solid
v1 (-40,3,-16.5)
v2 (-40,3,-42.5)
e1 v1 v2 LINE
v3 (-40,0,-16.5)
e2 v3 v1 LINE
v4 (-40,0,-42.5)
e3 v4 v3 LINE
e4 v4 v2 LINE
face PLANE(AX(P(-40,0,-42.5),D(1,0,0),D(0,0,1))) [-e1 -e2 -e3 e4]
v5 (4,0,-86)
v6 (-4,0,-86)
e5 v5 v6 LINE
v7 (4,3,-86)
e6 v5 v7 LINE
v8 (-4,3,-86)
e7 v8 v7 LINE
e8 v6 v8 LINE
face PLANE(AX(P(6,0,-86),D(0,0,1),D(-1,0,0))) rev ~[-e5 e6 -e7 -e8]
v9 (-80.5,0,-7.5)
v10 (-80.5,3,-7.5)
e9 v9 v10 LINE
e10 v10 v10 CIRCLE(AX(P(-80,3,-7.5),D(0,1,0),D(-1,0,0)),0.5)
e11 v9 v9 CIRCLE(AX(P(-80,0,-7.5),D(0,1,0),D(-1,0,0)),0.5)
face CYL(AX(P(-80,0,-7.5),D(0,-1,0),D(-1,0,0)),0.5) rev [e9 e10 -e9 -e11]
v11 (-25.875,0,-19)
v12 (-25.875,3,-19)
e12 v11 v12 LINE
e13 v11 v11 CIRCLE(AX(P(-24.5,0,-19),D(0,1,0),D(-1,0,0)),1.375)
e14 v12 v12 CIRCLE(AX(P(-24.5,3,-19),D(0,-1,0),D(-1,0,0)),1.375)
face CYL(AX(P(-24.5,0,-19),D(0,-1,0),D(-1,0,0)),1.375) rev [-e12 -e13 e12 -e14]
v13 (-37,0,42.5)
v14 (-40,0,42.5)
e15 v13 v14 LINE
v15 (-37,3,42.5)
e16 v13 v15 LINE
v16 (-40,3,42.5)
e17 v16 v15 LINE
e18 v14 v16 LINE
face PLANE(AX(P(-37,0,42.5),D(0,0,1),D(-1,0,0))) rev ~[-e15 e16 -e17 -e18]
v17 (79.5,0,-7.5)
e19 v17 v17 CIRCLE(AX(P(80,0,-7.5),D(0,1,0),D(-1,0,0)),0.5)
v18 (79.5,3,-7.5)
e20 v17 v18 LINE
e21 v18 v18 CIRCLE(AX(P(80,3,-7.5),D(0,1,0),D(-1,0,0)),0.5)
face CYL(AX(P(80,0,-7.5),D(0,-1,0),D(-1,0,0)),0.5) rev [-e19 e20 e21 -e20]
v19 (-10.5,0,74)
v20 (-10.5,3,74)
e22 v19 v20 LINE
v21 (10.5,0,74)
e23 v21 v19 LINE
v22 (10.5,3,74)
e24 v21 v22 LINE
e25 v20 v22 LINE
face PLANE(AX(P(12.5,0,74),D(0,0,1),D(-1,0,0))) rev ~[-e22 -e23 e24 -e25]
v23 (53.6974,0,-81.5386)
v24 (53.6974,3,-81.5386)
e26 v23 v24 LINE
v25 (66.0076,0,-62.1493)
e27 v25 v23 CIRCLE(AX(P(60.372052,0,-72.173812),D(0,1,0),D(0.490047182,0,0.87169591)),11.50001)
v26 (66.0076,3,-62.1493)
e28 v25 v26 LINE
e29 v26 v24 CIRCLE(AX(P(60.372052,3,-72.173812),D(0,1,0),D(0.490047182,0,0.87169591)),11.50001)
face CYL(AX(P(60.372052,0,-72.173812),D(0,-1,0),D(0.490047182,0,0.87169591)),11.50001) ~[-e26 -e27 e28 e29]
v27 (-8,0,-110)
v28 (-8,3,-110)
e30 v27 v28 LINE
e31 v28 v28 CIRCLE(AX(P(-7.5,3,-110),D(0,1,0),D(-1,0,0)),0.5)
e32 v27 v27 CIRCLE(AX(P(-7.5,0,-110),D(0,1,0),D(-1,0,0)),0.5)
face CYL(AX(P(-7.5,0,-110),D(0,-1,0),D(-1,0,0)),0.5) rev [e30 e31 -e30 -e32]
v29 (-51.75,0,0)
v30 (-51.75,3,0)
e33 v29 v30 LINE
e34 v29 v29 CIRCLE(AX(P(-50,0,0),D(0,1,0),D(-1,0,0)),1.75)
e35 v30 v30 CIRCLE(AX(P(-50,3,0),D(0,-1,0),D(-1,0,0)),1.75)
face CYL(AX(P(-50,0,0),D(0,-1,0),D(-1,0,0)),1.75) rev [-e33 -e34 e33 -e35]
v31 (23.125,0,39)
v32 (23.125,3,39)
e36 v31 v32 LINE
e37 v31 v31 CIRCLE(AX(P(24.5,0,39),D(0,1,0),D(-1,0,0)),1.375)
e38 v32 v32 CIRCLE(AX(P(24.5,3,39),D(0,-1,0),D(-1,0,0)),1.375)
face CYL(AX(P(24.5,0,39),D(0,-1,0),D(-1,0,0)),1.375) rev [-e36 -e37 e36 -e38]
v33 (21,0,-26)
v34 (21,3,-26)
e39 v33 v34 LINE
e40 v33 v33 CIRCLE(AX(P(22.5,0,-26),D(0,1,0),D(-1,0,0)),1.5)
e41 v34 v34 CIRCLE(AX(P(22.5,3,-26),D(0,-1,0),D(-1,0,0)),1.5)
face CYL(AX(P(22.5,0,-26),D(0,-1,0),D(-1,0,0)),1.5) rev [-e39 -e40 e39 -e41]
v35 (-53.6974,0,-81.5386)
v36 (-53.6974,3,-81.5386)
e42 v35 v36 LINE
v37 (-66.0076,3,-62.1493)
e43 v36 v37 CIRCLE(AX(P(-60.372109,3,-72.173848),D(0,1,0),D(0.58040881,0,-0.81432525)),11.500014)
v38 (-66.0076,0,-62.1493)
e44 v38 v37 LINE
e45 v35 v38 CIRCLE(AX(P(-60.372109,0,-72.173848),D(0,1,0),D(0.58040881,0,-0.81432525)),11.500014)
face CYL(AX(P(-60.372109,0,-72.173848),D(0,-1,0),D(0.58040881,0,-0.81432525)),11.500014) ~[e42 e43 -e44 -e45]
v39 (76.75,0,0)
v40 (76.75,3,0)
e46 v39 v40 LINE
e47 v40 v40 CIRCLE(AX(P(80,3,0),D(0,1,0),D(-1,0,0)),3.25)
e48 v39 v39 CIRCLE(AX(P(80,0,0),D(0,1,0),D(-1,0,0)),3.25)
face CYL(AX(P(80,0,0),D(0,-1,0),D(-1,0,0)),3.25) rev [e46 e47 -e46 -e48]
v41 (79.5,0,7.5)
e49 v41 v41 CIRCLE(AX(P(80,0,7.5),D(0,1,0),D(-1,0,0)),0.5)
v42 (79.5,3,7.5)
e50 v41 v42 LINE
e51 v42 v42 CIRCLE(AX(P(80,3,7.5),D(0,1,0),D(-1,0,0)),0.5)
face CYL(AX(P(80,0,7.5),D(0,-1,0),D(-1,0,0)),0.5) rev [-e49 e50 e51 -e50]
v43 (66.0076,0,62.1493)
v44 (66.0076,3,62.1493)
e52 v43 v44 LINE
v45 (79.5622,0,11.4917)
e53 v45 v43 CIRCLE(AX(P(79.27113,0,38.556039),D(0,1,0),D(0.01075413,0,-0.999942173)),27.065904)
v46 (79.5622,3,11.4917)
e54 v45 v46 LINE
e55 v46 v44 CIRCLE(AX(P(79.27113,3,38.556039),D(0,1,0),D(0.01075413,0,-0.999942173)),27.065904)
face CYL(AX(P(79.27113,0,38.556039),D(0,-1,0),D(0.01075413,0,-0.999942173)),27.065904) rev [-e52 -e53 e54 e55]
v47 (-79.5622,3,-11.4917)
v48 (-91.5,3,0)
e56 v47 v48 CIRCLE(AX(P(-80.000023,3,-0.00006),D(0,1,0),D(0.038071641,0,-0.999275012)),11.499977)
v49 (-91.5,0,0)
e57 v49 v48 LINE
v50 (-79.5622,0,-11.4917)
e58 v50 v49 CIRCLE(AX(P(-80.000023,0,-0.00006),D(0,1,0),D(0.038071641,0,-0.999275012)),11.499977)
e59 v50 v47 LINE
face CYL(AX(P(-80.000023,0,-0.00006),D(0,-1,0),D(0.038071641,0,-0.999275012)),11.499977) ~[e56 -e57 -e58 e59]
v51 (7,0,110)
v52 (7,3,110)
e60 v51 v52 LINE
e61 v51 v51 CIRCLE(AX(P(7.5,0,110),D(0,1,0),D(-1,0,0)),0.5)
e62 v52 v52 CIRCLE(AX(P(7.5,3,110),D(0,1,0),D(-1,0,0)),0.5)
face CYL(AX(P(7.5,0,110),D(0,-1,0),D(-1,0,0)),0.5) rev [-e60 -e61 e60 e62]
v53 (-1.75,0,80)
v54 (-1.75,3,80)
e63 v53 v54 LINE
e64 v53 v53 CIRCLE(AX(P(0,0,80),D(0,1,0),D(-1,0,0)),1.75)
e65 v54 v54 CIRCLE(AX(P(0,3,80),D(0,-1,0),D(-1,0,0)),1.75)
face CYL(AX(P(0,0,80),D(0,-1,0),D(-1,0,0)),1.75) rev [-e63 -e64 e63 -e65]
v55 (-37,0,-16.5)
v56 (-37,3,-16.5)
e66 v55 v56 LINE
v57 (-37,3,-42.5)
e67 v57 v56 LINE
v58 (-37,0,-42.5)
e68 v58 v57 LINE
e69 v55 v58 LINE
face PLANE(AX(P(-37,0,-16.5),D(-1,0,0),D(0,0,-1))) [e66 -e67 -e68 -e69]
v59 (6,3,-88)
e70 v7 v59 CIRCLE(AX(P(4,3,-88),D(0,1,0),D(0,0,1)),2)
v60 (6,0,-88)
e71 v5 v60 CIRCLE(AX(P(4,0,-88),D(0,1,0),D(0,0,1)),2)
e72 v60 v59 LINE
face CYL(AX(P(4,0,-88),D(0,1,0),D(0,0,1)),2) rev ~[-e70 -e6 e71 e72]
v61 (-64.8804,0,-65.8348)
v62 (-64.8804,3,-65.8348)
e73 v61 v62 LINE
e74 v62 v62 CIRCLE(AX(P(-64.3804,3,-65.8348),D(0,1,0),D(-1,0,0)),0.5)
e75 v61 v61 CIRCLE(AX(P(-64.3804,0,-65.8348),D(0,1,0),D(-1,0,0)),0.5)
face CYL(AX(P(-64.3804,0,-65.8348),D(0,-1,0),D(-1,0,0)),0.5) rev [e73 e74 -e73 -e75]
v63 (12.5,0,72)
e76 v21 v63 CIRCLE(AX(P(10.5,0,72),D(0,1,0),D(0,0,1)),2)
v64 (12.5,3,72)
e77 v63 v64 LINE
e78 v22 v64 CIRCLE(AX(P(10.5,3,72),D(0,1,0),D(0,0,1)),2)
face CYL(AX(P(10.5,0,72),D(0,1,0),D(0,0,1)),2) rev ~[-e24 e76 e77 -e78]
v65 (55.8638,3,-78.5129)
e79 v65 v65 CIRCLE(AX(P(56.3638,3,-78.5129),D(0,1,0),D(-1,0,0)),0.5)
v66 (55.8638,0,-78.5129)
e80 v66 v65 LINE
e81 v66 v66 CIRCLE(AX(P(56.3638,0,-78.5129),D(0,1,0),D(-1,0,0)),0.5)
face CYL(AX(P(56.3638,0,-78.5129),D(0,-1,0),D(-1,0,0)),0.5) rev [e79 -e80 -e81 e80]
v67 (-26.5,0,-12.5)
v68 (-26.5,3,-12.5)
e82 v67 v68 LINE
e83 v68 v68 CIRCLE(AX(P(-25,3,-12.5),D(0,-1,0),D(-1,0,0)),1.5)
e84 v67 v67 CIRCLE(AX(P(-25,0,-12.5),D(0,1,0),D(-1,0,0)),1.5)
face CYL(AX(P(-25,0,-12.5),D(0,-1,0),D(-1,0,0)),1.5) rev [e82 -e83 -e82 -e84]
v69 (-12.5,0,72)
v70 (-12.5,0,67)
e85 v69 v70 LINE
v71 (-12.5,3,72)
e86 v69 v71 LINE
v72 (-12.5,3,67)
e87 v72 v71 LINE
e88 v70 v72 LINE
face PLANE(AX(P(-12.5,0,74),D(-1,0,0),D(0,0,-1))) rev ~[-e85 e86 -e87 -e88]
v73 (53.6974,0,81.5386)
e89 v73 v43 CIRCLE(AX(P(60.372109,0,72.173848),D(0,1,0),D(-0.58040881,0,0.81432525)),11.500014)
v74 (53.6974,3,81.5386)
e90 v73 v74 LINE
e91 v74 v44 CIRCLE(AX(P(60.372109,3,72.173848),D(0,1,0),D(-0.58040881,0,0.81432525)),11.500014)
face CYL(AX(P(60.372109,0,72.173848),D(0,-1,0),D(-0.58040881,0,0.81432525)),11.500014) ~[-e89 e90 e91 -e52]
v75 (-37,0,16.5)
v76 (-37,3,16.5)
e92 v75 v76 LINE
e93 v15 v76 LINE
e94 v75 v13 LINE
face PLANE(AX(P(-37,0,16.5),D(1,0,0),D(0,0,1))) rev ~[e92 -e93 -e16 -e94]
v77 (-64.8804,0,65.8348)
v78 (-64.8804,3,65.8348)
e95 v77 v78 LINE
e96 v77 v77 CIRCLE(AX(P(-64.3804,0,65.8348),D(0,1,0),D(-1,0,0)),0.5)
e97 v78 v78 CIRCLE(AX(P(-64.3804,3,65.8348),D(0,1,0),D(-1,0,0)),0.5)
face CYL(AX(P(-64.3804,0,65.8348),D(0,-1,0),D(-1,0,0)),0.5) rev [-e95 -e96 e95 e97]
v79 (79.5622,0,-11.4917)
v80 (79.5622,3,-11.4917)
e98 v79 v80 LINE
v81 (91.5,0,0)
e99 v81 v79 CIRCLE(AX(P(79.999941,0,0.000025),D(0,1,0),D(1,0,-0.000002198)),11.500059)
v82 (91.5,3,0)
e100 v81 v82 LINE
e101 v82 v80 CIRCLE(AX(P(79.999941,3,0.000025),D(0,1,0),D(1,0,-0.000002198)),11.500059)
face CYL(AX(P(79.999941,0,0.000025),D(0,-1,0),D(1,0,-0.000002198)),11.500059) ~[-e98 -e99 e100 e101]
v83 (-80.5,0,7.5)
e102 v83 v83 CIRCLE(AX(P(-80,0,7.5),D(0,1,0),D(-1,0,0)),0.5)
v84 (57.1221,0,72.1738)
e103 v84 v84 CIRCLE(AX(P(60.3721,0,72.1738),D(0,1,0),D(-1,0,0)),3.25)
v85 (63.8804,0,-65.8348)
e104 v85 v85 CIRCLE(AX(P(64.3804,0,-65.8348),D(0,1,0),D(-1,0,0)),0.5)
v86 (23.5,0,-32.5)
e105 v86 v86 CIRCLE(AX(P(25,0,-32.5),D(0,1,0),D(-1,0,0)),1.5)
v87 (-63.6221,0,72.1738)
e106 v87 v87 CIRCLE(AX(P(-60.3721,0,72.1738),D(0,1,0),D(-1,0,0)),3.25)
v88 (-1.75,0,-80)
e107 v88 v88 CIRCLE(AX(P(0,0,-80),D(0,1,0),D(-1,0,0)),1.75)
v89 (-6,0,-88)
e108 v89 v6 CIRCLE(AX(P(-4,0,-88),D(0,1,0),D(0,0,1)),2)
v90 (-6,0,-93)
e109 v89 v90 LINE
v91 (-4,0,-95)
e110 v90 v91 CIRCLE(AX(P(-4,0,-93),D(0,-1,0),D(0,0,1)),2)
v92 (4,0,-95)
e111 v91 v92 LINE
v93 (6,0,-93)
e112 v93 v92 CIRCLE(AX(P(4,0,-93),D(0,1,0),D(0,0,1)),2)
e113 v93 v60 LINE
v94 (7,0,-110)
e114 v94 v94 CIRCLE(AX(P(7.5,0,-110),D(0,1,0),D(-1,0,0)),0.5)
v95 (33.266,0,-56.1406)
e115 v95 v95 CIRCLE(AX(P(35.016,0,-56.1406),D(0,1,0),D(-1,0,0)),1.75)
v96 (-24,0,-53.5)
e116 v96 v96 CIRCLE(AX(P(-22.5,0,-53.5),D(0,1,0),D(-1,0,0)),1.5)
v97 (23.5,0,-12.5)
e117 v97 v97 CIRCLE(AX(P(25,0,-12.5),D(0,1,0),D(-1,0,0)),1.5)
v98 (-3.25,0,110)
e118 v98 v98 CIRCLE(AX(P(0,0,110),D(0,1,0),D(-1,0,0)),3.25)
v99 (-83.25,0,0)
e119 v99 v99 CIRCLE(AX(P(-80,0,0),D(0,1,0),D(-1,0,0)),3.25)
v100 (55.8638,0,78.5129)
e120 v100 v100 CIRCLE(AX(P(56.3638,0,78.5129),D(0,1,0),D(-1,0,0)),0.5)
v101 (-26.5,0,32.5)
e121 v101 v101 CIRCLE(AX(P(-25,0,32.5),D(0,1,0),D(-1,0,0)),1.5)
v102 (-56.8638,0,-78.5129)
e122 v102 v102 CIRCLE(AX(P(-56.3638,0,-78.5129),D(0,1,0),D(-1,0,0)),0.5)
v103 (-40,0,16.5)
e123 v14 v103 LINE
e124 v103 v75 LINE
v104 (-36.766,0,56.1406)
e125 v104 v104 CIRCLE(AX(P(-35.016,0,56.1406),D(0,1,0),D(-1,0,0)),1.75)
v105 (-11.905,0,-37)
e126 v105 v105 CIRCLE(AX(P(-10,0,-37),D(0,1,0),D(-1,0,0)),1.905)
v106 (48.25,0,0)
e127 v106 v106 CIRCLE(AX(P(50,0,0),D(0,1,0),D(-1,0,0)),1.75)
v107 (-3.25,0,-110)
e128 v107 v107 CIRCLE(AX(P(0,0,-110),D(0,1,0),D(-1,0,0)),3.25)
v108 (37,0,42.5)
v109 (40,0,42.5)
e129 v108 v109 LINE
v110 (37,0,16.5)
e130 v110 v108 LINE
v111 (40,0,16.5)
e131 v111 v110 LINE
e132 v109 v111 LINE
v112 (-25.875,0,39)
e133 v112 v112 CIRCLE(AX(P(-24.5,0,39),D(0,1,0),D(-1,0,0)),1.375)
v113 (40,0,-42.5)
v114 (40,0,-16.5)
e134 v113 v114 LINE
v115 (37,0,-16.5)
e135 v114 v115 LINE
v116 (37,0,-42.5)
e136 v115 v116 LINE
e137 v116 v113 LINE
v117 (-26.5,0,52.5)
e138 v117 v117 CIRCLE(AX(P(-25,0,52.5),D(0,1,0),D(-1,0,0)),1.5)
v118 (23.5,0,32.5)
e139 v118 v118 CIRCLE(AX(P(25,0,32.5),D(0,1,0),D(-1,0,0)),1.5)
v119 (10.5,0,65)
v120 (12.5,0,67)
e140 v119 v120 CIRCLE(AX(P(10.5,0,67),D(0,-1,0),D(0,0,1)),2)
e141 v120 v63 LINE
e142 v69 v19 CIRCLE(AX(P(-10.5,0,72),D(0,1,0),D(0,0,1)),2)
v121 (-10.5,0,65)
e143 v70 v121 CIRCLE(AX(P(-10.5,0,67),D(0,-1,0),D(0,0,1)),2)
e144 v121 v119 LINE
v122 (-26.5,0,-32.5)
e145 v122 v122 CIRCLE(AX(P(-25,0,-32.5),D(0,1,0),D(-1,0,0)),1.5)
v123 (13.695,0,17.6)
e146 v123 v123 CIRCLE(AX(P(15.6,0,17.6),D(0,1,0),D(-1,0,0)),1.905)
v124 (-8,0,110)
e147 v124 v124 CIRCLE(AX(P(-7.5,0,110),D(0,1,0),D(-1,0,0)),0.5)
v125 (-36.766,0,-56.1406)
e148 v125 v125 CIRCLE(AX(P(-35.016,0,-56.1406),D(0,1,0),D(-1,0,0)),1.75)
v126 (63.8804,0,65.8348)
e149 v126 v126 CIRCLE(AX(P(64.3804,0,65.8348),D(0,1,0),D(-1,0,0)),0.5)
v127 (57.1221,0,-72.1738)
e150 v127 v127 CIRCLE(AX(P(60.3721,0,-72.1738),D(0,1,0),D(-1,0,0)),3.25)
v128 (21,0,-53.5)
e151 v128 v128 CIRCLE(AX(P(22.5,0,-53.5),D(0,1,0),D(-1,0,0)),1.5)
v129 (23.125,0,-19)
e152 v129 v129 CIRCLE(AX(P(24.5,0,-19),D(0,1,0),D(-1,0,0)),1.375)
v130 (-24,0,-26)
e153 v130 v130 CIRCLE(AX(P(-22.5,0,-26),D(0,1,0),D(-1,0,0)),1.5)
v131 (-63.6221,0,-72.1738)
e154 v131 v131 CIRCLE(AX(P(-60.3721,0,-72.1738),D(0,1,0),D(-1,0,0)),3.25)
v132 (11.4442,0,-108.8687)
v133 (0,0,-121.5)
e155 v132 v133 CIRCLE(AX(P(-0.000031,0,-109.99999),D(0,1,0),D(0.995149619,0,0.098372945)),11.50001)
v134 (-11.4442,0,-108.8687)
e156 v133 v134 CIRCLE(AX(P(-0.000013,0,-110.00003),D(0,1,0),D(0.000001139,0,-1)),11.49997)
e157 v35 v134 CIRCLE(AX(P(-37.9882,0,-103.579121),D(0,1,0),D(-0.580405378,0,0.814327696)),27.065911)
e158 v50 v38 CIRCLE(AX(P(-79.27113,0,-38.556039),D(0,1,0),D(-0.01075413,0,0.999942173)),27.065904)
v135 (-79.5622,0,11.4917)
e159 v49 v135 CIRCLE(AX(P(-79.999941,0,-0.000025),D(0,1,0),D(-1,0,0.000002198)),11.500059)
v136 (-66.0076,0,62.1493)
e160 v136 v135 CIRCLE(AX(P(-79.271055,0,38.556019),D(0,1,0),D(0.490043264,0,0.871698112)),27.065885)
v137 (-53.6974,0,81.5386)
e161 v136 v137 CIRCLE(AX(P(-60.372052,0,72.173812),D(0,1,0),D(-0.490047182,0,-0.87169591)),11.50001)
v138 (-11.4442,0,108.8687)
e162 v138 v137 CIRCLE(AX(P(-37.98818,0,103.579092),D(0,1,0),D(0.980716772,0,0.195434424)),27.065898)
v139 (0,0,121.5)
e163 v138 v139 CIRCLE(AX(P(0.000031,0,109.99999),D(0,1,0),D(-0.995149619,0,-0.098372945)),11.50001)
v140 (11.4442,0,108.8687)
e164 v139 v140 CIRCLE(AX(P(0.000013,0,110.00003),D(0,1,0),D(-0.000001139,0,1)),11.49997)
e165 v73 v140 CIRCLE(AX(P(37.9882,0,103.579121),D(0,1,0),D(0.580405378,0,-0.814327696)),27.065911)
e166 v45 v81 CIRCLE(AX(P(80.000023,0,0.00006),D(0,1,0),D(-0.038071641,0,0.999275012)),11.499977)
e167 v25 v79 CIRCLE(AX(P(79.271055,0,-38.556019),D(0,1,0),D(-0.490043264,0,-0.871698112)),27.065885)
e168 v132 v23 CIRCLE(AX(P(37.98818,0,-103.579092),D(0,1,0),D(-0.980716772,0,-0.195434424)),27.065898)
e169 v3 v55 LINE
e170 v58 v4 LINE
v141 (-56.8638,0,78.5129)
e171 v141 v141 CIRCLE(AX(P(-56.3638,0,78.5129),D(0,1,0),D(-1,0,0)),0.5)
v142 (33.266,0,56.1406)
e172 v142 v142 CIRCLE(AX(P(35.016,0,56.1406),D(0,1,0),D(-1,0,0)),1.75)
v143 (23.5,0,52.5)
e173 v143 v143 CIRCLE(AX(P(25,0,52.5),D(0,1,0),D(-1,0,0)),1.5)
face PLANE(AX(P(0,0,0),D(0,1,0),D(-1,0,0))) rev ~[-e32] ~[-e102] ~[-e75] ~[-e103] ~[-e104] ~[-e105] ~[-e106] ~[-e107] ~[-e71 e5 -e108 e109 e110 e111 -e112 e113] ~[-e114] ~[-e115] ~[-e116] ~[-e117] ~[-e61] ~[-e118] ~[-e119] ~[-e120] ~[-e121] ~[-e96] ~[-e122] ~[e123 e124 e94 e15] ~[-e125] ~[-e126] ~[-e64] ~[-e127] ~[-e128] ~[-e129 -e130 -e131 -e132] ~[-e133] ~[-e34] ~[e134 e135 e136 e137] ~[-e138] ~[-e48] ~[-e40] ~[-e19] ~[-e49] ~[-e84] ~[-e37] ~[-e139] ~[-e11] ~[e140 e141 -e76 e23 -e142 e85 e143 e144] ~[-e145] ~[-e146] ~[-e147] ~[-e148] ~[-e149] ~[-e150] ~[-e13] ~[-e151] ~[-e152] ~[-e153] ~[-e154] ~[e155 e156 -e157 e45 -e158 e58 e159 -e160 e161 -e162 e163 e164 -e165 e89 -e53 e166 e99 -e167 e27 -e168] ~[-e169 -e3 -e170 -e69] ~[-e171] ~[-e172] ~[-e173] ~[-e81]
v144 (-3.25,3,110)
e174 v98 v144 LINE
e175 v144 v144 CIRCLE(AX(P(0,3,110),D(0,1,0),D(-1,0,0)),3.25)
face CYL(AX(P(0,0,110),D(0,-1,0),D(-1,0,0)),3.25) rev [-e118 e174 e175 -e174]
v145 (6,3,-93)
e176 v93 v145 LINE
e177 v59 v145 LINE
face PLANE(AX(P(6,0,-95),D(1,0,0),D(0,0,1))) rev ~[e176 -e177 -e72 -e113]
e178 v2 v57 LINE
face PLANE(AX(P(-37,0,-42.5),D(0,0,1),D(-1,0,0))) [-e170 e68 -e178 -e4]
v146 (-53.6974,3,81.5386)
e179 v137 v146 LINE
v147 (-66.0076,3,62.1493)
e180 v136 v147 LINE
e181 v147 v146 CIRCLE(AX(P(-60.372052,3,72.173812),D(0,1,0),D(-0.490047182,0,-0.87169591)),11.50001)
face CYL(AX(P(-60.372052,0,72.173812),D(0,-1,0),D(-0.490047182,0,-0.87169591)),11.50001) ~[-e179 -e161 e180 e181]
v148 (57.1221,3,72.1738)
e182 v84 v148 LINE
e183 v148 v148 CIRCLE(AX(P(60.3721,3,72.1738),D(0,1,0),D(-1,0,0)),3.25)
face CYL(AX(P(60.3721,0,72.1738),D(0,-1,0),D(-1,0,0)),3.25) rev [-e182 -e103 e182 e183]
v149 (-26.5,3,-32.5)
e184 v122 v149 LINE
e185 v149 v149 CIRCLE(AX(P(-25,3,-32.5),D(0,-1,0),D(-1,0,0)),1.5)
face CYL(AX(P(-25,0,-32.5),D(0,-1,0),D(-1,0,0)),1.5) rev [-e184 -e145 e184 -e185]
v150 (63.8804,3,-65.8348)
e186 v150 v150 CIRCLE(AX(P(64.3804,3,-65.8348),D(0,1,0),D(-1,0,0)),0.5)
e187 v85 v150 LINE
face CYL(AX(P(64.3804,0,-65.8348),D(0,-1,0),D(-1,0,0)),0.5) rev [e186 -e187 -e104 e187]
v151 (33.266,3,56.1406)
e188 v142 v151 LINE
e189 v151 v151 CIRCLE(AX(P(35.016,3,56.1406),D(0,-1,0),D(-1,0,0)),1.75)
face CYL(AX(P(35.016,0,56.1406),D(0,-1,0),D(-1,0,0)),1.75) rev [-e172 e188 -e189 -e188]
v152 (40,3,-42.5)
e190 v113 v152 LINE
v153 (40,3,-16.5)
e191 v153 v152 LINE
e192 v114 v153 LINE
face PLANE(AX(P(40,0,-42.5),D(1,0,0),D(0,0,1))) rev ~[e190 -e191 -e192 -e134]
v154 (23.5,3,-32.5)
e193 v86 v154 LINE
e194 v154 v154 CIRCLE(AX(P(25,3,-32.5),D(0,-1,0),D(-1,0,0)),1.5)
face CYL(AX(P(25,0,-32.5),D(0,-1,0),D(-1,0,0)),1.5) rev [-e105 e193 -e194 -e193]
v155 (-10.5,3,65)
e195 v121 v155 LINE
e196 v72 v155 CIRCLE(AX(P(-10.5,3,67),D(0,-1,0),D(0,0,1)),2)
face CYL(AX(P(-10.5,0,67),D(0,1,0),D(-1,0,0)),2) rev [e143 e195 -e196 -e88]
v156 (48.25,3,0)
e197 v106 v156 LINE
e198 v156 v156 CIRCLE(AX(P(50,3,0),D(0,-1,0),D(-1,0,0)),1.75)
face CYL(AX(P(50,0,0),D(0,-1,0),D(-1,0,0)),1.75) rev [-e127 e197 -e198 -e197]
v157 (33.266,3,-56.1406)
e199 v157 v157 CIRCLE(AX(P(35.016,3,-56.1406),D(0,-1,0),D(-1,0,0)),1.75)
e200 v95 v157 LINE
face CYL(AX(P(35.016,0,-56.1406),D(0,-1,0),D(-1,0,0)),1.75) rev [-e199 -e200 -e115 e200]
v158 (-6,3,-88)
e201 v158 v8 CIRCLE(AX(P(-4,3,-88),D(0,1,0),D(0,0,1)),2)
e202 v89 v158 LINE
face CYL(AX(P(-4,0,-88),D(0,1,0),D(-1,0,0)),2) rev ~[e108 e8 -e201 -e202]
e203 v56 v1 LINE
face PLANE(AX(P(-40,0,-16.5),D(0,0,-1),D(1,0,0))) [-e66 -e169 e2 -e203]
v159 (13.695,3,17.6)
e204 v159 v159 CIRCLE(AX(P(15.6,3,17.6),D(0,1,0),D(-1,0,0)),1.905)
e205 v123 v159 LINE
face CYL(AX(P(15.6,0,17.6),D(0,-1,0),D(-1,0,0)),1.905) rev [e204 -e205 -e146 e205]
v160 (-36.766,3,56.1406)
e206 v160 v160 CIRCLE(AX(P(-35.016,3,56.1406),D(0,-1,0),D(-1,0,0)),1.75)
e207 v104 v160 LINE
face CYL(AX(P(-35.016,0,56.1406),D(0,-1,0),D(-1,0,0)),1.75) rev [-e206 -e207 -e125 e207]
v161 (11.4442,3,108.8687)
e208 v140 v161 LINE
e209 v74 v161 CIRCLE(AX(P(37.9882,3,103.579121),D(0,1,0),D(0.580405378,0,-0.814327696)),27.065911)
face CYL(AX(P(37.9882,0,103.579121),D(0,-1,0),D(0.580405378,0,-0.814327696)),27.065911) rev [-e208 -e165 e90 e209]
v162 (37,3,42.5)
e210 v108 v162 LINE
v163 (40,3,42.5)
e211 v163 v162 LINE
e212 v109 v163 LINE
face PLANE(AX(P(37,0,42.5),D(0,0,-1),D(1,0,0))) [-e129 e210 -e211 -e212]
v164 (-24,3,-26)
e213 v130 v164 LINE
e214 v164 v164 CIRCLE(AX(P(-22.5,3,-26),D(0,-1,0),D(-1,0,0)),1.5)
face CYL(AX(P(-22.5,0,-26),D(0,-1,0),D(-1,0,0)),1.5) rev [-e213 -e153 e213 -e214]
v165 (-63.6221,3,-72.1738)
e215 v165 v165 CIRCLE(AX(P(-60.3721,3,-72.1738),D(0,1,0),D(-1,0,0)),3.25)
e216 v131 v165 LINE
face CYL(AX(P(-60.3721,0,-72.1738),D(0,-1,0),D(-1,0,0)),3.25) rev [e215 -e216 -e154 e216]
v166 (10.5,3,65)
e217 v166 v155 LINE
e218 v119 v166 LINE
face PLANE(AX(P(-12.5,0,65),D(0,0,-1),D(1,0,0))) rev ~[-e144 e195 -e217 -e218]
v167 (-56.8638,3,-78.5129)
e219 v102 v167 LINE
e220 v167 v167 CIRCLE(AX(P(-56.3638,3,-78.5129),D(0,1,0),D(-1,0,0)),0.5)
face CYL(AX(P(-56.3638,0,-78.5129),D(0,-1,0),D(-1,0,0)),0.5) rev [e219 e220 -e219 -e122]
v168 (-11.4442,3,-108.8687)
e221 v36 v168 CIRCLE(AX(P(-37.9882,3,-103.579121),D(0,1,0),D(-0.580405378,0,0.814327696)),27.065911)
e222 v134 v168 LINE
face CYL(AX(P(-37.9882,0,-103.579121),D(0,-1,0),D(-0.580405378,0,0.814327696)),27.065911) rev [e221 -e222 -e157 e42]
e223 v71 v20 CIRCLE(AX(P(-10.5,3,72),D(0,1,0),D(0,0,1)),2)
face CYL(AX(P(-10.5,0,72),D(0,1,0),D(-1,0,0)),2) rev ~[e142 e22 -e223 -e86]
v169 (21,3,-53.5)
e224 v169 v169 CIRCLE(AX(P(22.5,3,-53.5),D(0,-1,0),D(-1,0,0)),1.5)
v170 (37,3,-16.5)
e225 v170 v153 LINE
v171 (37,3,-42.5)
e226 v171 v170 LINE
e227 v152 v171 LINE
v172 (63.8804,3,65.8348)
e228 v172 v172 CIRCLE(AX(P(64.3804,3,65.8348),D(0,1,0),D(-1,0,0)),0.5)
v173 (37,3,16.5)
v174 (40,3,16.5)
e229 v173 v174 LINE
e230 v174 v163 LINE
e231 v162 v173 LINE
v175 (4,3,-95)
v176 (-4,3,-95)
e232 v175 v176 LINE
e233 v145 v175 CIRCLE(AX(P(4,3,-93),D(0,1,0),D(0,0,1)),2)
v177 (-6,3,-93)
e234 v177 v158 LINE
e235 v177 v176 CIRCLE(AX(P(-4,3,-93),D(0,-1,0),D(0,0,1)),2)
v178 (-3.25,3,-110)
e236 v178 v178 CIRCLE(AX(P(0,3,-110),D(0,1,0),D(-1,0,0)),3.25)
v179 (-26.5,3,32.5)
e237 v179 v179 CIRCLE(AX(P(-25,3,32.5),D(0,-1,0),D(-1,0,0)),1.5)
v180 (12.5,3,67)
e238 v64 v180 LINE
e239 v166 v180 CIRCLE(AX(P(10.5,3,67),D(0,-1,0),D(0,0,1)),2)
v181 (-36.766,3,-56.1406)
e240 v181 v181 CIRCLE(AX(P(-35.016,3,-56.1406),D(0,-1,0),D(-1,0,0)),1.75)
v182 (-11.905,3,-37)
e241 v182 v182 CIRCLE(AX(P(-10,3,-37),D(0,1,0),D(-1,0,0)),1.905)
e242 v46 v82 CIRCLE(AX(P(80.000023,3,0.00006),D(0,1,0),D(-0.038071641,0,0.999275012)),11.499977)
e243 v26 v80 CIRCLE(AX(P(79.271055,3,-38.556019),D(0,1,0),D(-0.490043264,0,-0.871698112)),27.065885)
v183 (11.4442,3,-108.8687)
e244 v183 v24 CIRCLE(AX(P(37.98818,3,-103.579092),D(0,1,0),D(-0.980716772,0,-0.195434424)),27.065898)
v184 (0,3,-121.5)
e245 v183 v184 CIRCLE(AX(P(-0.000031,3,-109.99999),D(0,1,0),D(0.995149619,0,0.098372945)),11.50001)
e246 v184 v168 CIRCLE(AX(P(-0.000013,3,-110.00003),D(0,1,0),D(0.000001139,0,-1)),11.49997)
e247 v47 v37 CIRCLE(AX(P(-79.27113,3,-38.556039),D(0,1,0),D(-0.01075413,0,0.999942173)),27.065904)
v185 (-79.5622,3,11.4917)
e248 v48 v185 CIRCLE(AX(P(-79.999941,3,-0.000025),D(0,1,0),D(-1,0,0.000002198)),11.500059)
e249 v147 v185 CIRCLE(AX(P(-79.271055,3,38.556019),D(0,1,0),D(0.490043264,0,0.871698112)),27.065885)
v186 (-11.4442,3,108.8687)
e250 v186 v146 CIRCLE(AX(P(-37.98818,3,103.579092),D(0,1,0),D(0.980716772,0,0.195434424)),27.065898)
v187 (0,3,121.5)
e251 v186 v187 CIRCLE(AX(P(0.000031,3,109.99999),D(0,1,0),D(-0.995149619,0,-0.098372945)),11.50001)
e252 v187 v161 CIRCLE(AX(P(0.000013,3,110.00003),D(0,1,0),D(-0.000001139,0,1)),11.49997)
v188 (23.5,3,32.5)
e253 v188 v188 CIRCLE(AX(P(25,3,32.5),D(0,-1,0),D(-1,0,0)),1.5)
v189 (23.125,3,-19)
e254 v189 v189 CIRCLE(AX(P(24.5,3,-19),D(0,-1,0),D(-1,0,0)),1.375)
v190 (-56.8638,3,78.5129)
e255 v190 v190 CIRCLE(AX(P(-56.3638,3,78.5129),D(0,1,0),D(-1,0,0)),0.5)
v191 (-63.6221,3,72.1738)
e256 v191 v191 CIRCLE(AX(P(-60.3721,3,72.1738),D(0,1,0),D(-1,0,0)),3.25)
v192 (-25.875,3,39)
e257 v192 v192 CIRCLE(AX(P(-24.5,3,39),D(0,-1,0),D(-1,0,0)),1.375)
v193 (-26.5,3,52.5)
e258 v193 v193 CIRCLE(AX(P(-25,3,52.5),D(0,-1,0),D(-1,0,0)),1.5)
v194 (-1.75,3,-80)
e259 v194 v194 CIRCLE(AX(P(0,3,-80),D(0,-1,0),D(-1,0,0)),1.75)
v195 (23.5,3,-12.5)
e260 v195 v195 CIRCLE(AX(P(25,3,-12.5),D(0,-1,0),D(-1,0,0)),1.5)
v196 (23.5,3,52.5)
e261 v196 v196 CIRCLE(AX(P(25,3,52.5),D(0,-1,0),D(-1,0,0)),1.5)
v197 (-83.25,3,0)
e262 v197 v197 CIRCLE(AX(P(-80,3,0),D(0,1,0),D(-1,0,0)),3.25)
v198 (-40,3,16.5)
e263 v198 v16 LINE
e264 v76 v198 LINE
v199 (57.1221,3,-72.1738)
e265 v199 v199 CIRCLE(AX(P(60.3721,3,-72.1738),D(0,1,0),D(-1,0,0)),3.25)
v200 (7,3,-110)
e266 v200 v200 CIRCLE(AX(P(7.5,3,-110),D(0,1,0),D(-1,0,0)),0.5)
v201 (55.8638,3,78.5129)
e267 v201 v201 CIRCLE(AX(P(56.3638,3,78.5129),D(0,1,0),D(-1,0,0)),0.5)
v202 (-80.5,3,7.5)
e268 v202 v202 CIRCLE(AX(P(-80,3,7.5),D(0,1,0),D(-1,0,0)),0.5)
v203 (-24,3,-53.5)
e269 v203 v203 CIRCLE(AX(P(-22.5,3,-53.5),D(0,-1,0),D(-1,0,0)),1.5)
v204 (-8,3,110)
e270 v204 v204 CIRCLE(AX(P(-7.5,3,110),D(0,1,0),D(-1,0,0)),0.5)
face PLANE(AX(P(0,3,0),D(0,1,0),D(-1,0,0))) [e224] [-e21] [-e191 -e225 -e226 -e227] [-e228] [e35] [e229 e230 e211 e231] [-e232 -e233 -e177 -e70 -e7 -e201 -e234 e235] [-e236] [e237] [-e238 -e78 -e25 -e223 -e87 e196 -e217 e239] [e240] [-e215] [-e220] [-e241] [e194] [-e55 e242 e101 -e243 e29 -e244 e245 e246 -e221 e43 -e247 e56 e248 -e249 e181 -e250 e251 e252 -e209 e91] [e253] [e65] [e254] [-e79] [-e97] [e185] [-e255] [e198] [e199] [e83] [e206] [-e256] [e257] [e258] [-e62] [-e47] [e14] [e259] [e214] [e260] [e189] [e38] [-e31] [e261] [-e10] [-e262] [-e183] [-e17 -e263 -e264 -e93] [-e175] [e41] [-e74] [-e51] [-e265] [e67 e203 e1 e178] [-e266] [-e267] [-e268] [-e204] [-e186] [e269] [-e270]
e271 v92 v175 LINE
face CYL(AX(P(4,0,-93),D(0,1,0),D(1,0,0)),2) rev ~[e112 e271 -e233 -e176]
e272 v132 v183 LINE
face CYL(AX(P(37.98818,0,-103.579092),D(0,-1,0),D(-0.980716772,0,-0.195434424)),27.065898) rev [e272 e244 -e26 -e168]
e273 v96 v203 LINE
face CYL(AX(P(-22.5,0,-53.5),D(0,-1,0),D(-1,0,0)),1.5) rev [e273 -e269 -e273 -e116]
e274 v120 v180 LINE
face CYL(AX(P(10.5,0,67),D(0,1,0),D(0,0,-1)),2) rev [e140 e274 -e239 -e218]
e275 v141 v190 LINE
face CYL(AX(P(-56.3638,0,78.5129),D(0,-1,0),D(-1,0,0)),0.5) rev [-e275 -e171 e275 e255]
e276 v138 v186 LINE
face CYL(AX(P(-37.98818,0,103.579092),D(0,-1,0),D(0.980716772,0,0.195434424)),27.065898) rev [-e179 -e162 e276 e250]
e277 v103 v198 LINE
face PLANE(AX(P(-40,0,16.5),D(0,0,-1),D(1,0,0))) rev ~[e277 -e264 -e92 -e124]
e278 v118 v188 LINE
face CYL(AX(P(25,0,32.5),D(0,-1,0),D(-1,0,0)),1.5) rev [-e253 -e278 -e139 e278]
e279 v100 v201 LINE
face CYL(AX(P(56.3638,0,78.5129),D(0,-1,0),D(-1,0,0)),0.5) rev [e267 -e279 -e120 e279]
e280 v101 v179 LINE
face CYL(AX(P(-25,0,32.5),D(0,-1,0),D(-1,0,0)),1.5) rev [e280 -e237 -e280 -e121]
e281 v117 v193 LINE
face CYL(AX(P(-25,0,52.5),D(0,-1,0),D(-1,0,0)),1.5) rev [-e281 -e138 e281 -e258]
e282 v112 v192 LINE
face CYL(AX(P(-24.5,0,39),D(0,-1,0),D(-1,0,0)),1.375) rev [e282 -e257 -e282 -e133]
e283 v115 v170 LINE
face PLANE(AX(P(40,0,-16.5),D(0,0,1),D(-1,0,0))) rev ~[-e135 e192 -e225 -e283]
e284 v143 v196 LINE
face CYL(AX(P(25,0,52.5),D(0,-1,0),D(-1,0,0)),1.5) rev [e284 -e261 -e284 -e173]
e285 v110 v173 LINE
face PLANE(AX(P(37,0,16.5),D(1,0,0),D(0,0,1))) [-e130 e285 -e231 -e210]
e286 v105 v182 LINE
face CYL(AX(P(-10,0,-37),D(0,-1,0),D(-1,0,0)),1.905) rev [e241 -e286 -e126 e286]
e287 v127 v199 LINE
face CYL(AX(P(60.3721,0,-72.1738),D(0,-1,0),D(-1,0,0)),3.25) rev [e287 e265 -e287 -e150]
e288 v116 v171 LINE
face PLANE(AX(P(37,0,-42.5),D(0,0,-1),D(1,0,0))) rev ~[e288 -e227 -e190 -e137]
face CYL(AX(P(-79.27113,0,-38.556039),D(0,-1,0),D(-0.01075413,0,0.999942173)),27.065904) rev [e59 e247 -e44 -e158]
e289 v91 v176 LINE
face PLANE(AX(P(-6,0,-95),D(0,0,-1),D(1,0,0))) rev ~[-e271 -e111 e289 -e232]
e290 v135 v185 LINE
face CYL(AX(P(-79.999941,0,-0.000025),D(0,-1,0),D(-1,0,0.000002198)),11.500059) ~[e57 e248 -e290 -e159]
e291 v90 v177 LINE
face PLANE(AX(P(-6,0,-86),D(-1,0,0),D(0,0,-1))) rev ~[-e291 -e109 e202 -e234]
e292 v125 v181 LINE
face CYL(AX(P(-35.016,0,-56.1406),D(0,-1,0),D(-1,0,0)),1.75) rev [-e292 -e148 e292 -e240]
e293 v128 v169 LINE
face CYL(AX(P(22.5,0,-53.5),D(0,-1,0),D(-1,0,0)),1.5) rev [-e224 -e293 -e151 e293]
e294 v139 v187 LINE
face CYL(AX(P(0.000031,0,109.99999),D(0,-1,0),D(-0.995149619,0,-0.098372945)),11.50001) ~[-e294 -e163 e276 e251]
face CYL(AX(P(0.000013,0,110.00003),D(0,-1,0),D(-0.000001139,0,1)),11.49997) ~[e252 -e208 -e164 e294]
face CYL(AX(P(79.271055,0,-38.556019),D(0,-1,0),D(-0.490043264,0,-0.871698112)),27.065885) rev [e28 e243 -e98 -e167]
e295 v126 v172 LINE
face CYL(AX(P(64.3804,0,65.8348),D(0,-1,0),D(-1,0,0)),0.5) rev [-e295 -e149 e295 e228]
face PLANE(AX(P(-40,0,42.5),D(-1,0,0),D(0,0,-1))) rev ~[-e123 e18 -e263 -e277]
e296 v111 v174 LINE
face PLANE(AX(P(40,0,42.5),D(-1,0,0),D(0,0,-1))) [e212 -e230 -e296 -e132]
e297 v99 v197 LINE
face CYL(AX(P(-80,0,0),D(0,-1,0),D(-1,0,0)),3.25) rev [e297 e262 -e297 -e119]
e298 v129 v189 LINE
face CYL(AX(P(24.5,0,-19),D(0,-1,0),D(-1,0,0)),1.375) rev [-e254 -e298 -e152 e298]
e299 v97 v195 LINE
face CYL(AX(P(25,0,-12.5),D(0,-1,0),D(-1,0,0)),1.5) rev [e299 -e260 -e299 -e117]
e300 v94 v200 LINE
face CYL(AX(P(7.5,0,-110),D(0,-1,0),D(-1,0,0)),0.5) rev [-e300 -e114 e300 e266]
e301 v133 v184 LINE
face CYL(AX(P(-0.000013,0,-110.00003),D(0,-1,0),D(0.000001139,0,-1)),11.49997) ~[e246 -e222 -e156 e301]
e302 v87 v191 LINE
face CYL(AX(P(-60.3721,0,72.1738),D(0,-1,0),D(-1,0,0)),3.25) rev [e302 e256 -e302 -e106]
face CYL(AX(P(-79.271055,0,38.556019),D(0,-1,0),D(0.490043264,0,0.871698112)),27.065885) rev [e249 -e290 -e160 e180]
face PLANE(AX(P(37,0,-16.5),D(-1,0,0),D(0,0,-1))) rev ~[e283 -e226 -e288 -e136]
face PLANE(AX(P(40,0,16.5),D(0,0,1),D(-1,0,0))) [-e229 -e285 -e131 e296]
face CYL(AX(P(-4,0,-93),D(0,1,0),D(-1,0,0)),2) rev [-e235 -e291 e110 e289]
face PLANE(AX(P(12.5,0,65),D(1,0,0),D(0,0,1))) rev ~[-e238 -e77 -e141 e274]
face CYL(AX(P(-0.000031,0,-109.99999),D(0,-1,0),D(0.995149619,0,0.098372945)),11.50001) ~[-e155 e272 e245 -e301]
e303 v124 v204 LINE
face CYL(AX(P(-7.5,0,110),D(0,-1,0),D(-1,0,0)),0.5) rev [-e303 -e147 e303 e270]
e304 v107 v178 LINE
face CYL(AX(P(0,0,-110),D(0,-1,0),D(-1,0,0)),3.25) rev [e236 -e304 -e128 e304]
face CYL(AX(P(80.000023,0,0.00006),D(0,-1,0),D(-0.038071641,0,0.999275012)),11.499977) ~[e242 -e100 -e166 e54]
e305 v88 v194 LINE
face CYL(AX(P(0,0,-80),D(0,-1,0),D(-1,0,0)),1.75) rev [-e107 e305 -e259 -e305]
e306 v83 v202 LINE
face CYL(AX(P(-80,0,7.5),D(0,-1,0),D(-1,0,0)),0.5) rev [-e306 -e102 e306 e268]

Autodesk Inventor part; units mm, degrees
ref_plane "YZ Plane" through (0, 0, 0) normal (1, 0, 0) x (0, 1, 0)
ref_plane "XZ Plane" through (0, 0, 0) normal (0, 1, 0) x (-1, 0, 0)
ref_plane "XY Plane" through (0, 0, 0) normal (0, 0, 1) x (1, 0, 0)
sketch "Sketch1" plane through (0, 0, 0) normal (0, 1, 0) x (-1, 0, 0)
  line L0 (0, -135) -> (0, 190) construction
  line L1 (111, 0) -> (-155, 0) construction
  ellipse E0 centre (0, 0) end of major axis (0, 110) minor radius 80 construction
  arc A0 (79.5622, -11.4917) -> (91.5, 0) centre (80, 0) ccw
  arc A1 (0, -121.5) -> (11.4442, -108.8687) centre (0, -110) ccw
  arc A2 (53.6974, -81.5386) -> (66.0076, -62.1493) centre (60.3721, -72.1738) ccw
  arc A3 (79.5622, -11.4917) -> (66.0076, -62.1493) centre (79.2711, -38.556) ccw
  arc A4 (53.6974, -81.5386) -> (11.4442, -108.8687) centre (37.9882, -103.5791) ccw
  arc A5 (-91.5, 0) -> (-79.5622, -11.4917) centre (-80, 0) ccw
  arc A6 (-11.4442, -108.8687) -> (0, -121.5) centre (0, -110) ccw
  arc A7 (-66.0076, -62.1493) -> (-53.6974, -81.5386) centre (-60.3721, -72.1738) ccw
  arc A8 (-66.0076, -62.1493) -> (-79.5622, -11.4917) centre (-79.2711, -38.556) ccw
  arc A9 (-11.4442, -108.8687) -> (-53.6974, -81.5386) centre (-37.9882, -103.5791) ccw
  arc A10 (91.5, 0) -> (79.5622, 11.4917) centre (80, 0) ccw
  arc A11 (11.4442, 108.8687) -> (0, 121.5) centre (0, 110) ccw
  arc A12 (66.0076, 62.1493) -> (53.6974, 81.5386) centre (60.3721, 72.1738) ccw
  arc A13 (66.0076, 62.1493) -> (79.5622, 11.4917) centre (79.2711, 38.556) ccw
  arc A14 (11.4442, 108.8687) -> (53.6974, 81.5386) centre (37.9882, 103.5791) ccw
  arc A15 (0, 121.5) -> (-11.4442, 108.8687) centre (0, 110) ccw
  arc A16 (-53.6974, 81.5386) -> (-11.4442, 108.8687) centre (-37.9882, 103.5791) ccw
  arc A17 (-53.6974, 81.5386) -> (-66.0076, 62.1493) centre (-60.3721, 72.1738) ccw
  arc A18 (-79.5622, 11.4917) -> (-66.0076, 62.1493) centre (-79.2711, 38.556) ccw
  arc A19 (-79.5622, 11.4917) -> (-91.5, 0) centre (-80, 0) ccw
  line L2 (53.0109, -83.8154) -> (69.937, -57.0473) construction
  circle A20 centre (56.3638, -78.5129) radius 0.5
  line L3 (66.5644, -76.0894) -> (34.2267, -55.6415) construction
  circle A21 centre (64.3804, -65.8348) radius 0.5
  line L4 (80, -8.2711) -> (80, 9) construction
  circle A22 centre (80, -7.5) radius 0.5
  line L5 (9.0844, -110) -> (-9.2812, -110) construction
  circle A23 centre (7.5, -110) radius 0.5
  circle A24 centre (-56.3638, -78.5129) radius 0.5
  circle A25 centre (-64.3804, -65.8348) radius 0.5
  circle A26 centre (-80, -7.5) radius 0.5
  circle A27 centre (-7.5, -110) radius 0.5
  circle A28 centre (56.3638, 78.5129) radius 0.5
  circle A29 centre (64.3804, 65.8348) radius 0.5
  circle A30 centre (80, 7.5) radius 0.5
  circle A31 centre (7.5, 110) radius 0.5
  circle A32 centre (-7.5, 110) radius 0.5
  circle A33 centre (-56.3638, 78.5129) radius 0.5
  circle A34 centre (-64.3804, 65.8348) radius 0.5
  circle A35 centre (-80, 7.5) radius 0.5
  circle A36 centre (10, -37) radius 1.905
  circle A37 centre (-15.6, 17.6) radius 1.905
  circle A38 centre (60.3721, -72.1738) radius 3.25
  circle A39 centre (0, -110) radius 3.25
  circle A40 centre (-60.3721, -72.1738) radius 3.25
  circle A41 centre (80, 0) radius 3.25
  circle A42 centre (-80, 0) radius 3.25
  circle A43 centre (60.3721, 72.1738) radius 3.25
  circle A44 centre (0, 110) radius 3.25
  circle A45 centre (-60.3721, 72.1738) radius 3.25
  circle A46 centre (-25, 32.5) radius 1.5
  circle A47 centre (-25, -32.5) radius 1.5
  circle A48 centre (25, 32.5) radius 1.5
  circle A49 centre (25, -32.5) radius 1.5
  line L6 (12.5, 65) -> (-12.5, 65)
  line L7 (-12.5, 65) -> (-12.5, 74)
  line L8 (-12.5, 74) -> (12.5, 74)
  line L9 (12.5, 74) -> (12.5, 65)
  line L10 (6, -95) -> (-6, -95)
  line L11 (-6, -95) -> (-6, -86)
  line L12 (-6, -86) -> (6, -86)
  line L13 (6, -86) -> (6, -95)
  circle A50 centre (50, 0) radius 1.75
  circle A51 centre (35.016, -56.1406) radius 1.75
  circle A52 centre (0, -80) radius 1.75
  circle A53 centre (-50, 0) radius 1.75
  circle A54 centre (-35.016, -56.1406) radius 1.75
  circle A55 centre (35.016, 56.1406) radius 1.75
  circle A56 centre (0, 80) radius 1.75
  circle A57 centre (-35.016, 56.1406) radius 1.75
  circle A58 centre (-24.5, 39) radius 1.375
  circle A59 centre (24.5, 39) radius 1.375
  circle A60 centre (-24.5, -19) radius 1.375
  circle A61 centre (24.5, -19) radius 1.375
  circle A62 centre (25, 52.5) radius 1.5
  circle A63 centre (-25, 52.5) radius 1.5
  circle A64 centre (25, -12.5) radius 1.5
  circle A65 centre (-25, -12.5) radius 1.5
  circle A66 centre (22.5, -26) radius 1.5
  circle A67 centre (-22.5, -26) radius 1.5
  circle A68 centre (22.5, -53.5) radius 1.5
  circle A69 centre (-22.5, -53.5) radius 1.5
  dimension "d0" = 110
  dimension "d1" = 80
  dimension "d2" = 23
  dimension "d3" = 23
  dimension "d4" = 23
  dimension "d6" = 1
  dimension "d7" = 7.5
  dimension "d8" = 1
  dimension "d9" = 7.5
  dimension "d12" = 1
  dimension "d13" = 7.5
  dimension "d16" = 3.81
  dimension "d17" = 3.81
  dimension "d18" = 10
  dimension "d19" = 37
  dimension "d21" = 15.6
  dimension "d22" = 6.5
  dimension "d23" = 6.5
  dimension "d24" = 6.5
  dimension "d25" = 6.5
  dimension "d26" = 6.5
  dimension "d29" = 3
  dimension "d30" = 25
  dimension "d31" = 32.5
  dimension "d34" = 9
  dimension "d35" = 25
  dimension "d36" = 65
  dimension "d40" = 54.6
  dimension "d41" = 12
  dimension "d42" = 9
  dimension "d43" = 86
  dimension "d47" = 3.5
  dimension "d48" = 30
  dimension "d49" = 3.5
  dimension "d50" = 30
  dimension "d51" = 3.5
  dimension "d52" = 30
  dimension "d61" = 2.75
  dimension "d62" = 24.5
  dimension "d63" = 39
  dimension "d66" = 49
  dimension "d69" = 58
  dimension "d74" = 3
  dimension "d75" = 20
  dimension "d76" = 0
  dimension "d79" = 50
  dimension "d82" = 65
  dimension "d85" = 3
  dimension "d88" = 45
  dimension "d91" = 27.5
  dimension "d94" = 26
extrude "Extrusion2" add sketch "Sketch1" along normal blind 3 contours A3 A2 A4 A1 A6 A9 A7 A8 A5 A19 A18 A17 A16 A15 A11 A14 A12 A13 A10 A0 | A46 | A47 | A48 | A49 | L6 L7 L8 L9 | L10 L11 L12 L13 | A50 | A51 | A52 | A53 | A54 | A55 | A56 | A57 | A58 | A59 | A60 | A61 | A62 | A63 | A64 | A65 | A66 | A67 | A68 | A69
extrude "Extrusion3" cut sketch "Sketch1" along normal blind 11 contours A46 | A47 | A48 | A49
extrude "Extrusion4" cut sketch "Sketch1" along normal blind 10 contours L6 L7 L8 L9
extrude "Extrusion5" cut sketch "Sketch1" along normal blind 10 contours L10 L11 L12 L13
fillet "Fillet1" radius 2 8 edges at (-6, 1.5, -95) (6, 1.5, -95) (-6, 1.5, -86) (6, 1.5, -86) (-12.5, 1.5, 65) (12.5, 1.5, 65) (-12.5, 1.5, 74) (12.5, 1.5, 74)
extrude "Extrusion6" cut sketch "Sketch1" along normal blind 10 contours A50 | A51 | A52 | A53 | A54 | A55 | A56 | A57
sketch "Sketch2" plane through (0, 0, 0) normal (0, -1, 0) x (1, 0, 0)
  line L0 (-40, -16.5) -> (-37, -16.5)
  line L1 (-37, -16.5) -> (-37, -42.5)
  line L2 (-37, -42.5) -> (-40, -42.5)
  line L3 (-40, -42.5) -> (-40, -16.5)
  circle A0 centre (-25, -32.5) radius 1.5 projected
  line L4 (0, 18) -> (0, -62) construction
  line L5 (40, -16.5) -> (37, -16.5)
  line L6 (37, -16.5) -> (37, -42.5)
  line L7 (37, -42.5) -> (40, -42.5)
  line L8 (40, -42.5) -> (40, -16.5)
  line L9 (-42, 0) -> (57, 0) construction
  line L10 (-40, 16.5) -> (-37, 16.5)
  line L11 (-37, 16.5) -> (-37, 42.5)
  line L12 (-37, 42.5) -> (-40, 42.5)
  line L13 (-40, 42.5) -> (-40, 16.5)
  line L14 (40, 16.5) -> (37, 16.5)
  line L15 (37, 16.5) -> (37, 42.5)
  line L16 (37, 42.5) -> (40, 42.5)
  line L17 (40, 42.5) -> (40, 16.5)
  point P0 (0, 0)
  dimension "d55" = 12
  dimension "d56" = 3
  dimension "d57" = 26
  dimension "d58" = 16
extrude "Extrusion7" cut sketch "Sketch2" against normal blind 33.25 contours L0 L1 L2 L3 | L8 L7 L6 L5 | L13 L12 L11 L10 | L14 L15 L16 L17
extrude "Extrusion8" cut sketch "Sketch1" along normal blind 10 contours A58 | A59 | A60 | A61
extrude "Extrusion9" cut sketch "Sketch1" along normal blind 10 contours A62 | A63 | A64 | A65 | A66 | A67 | A68 | A69
properties part number "BodyTop"
